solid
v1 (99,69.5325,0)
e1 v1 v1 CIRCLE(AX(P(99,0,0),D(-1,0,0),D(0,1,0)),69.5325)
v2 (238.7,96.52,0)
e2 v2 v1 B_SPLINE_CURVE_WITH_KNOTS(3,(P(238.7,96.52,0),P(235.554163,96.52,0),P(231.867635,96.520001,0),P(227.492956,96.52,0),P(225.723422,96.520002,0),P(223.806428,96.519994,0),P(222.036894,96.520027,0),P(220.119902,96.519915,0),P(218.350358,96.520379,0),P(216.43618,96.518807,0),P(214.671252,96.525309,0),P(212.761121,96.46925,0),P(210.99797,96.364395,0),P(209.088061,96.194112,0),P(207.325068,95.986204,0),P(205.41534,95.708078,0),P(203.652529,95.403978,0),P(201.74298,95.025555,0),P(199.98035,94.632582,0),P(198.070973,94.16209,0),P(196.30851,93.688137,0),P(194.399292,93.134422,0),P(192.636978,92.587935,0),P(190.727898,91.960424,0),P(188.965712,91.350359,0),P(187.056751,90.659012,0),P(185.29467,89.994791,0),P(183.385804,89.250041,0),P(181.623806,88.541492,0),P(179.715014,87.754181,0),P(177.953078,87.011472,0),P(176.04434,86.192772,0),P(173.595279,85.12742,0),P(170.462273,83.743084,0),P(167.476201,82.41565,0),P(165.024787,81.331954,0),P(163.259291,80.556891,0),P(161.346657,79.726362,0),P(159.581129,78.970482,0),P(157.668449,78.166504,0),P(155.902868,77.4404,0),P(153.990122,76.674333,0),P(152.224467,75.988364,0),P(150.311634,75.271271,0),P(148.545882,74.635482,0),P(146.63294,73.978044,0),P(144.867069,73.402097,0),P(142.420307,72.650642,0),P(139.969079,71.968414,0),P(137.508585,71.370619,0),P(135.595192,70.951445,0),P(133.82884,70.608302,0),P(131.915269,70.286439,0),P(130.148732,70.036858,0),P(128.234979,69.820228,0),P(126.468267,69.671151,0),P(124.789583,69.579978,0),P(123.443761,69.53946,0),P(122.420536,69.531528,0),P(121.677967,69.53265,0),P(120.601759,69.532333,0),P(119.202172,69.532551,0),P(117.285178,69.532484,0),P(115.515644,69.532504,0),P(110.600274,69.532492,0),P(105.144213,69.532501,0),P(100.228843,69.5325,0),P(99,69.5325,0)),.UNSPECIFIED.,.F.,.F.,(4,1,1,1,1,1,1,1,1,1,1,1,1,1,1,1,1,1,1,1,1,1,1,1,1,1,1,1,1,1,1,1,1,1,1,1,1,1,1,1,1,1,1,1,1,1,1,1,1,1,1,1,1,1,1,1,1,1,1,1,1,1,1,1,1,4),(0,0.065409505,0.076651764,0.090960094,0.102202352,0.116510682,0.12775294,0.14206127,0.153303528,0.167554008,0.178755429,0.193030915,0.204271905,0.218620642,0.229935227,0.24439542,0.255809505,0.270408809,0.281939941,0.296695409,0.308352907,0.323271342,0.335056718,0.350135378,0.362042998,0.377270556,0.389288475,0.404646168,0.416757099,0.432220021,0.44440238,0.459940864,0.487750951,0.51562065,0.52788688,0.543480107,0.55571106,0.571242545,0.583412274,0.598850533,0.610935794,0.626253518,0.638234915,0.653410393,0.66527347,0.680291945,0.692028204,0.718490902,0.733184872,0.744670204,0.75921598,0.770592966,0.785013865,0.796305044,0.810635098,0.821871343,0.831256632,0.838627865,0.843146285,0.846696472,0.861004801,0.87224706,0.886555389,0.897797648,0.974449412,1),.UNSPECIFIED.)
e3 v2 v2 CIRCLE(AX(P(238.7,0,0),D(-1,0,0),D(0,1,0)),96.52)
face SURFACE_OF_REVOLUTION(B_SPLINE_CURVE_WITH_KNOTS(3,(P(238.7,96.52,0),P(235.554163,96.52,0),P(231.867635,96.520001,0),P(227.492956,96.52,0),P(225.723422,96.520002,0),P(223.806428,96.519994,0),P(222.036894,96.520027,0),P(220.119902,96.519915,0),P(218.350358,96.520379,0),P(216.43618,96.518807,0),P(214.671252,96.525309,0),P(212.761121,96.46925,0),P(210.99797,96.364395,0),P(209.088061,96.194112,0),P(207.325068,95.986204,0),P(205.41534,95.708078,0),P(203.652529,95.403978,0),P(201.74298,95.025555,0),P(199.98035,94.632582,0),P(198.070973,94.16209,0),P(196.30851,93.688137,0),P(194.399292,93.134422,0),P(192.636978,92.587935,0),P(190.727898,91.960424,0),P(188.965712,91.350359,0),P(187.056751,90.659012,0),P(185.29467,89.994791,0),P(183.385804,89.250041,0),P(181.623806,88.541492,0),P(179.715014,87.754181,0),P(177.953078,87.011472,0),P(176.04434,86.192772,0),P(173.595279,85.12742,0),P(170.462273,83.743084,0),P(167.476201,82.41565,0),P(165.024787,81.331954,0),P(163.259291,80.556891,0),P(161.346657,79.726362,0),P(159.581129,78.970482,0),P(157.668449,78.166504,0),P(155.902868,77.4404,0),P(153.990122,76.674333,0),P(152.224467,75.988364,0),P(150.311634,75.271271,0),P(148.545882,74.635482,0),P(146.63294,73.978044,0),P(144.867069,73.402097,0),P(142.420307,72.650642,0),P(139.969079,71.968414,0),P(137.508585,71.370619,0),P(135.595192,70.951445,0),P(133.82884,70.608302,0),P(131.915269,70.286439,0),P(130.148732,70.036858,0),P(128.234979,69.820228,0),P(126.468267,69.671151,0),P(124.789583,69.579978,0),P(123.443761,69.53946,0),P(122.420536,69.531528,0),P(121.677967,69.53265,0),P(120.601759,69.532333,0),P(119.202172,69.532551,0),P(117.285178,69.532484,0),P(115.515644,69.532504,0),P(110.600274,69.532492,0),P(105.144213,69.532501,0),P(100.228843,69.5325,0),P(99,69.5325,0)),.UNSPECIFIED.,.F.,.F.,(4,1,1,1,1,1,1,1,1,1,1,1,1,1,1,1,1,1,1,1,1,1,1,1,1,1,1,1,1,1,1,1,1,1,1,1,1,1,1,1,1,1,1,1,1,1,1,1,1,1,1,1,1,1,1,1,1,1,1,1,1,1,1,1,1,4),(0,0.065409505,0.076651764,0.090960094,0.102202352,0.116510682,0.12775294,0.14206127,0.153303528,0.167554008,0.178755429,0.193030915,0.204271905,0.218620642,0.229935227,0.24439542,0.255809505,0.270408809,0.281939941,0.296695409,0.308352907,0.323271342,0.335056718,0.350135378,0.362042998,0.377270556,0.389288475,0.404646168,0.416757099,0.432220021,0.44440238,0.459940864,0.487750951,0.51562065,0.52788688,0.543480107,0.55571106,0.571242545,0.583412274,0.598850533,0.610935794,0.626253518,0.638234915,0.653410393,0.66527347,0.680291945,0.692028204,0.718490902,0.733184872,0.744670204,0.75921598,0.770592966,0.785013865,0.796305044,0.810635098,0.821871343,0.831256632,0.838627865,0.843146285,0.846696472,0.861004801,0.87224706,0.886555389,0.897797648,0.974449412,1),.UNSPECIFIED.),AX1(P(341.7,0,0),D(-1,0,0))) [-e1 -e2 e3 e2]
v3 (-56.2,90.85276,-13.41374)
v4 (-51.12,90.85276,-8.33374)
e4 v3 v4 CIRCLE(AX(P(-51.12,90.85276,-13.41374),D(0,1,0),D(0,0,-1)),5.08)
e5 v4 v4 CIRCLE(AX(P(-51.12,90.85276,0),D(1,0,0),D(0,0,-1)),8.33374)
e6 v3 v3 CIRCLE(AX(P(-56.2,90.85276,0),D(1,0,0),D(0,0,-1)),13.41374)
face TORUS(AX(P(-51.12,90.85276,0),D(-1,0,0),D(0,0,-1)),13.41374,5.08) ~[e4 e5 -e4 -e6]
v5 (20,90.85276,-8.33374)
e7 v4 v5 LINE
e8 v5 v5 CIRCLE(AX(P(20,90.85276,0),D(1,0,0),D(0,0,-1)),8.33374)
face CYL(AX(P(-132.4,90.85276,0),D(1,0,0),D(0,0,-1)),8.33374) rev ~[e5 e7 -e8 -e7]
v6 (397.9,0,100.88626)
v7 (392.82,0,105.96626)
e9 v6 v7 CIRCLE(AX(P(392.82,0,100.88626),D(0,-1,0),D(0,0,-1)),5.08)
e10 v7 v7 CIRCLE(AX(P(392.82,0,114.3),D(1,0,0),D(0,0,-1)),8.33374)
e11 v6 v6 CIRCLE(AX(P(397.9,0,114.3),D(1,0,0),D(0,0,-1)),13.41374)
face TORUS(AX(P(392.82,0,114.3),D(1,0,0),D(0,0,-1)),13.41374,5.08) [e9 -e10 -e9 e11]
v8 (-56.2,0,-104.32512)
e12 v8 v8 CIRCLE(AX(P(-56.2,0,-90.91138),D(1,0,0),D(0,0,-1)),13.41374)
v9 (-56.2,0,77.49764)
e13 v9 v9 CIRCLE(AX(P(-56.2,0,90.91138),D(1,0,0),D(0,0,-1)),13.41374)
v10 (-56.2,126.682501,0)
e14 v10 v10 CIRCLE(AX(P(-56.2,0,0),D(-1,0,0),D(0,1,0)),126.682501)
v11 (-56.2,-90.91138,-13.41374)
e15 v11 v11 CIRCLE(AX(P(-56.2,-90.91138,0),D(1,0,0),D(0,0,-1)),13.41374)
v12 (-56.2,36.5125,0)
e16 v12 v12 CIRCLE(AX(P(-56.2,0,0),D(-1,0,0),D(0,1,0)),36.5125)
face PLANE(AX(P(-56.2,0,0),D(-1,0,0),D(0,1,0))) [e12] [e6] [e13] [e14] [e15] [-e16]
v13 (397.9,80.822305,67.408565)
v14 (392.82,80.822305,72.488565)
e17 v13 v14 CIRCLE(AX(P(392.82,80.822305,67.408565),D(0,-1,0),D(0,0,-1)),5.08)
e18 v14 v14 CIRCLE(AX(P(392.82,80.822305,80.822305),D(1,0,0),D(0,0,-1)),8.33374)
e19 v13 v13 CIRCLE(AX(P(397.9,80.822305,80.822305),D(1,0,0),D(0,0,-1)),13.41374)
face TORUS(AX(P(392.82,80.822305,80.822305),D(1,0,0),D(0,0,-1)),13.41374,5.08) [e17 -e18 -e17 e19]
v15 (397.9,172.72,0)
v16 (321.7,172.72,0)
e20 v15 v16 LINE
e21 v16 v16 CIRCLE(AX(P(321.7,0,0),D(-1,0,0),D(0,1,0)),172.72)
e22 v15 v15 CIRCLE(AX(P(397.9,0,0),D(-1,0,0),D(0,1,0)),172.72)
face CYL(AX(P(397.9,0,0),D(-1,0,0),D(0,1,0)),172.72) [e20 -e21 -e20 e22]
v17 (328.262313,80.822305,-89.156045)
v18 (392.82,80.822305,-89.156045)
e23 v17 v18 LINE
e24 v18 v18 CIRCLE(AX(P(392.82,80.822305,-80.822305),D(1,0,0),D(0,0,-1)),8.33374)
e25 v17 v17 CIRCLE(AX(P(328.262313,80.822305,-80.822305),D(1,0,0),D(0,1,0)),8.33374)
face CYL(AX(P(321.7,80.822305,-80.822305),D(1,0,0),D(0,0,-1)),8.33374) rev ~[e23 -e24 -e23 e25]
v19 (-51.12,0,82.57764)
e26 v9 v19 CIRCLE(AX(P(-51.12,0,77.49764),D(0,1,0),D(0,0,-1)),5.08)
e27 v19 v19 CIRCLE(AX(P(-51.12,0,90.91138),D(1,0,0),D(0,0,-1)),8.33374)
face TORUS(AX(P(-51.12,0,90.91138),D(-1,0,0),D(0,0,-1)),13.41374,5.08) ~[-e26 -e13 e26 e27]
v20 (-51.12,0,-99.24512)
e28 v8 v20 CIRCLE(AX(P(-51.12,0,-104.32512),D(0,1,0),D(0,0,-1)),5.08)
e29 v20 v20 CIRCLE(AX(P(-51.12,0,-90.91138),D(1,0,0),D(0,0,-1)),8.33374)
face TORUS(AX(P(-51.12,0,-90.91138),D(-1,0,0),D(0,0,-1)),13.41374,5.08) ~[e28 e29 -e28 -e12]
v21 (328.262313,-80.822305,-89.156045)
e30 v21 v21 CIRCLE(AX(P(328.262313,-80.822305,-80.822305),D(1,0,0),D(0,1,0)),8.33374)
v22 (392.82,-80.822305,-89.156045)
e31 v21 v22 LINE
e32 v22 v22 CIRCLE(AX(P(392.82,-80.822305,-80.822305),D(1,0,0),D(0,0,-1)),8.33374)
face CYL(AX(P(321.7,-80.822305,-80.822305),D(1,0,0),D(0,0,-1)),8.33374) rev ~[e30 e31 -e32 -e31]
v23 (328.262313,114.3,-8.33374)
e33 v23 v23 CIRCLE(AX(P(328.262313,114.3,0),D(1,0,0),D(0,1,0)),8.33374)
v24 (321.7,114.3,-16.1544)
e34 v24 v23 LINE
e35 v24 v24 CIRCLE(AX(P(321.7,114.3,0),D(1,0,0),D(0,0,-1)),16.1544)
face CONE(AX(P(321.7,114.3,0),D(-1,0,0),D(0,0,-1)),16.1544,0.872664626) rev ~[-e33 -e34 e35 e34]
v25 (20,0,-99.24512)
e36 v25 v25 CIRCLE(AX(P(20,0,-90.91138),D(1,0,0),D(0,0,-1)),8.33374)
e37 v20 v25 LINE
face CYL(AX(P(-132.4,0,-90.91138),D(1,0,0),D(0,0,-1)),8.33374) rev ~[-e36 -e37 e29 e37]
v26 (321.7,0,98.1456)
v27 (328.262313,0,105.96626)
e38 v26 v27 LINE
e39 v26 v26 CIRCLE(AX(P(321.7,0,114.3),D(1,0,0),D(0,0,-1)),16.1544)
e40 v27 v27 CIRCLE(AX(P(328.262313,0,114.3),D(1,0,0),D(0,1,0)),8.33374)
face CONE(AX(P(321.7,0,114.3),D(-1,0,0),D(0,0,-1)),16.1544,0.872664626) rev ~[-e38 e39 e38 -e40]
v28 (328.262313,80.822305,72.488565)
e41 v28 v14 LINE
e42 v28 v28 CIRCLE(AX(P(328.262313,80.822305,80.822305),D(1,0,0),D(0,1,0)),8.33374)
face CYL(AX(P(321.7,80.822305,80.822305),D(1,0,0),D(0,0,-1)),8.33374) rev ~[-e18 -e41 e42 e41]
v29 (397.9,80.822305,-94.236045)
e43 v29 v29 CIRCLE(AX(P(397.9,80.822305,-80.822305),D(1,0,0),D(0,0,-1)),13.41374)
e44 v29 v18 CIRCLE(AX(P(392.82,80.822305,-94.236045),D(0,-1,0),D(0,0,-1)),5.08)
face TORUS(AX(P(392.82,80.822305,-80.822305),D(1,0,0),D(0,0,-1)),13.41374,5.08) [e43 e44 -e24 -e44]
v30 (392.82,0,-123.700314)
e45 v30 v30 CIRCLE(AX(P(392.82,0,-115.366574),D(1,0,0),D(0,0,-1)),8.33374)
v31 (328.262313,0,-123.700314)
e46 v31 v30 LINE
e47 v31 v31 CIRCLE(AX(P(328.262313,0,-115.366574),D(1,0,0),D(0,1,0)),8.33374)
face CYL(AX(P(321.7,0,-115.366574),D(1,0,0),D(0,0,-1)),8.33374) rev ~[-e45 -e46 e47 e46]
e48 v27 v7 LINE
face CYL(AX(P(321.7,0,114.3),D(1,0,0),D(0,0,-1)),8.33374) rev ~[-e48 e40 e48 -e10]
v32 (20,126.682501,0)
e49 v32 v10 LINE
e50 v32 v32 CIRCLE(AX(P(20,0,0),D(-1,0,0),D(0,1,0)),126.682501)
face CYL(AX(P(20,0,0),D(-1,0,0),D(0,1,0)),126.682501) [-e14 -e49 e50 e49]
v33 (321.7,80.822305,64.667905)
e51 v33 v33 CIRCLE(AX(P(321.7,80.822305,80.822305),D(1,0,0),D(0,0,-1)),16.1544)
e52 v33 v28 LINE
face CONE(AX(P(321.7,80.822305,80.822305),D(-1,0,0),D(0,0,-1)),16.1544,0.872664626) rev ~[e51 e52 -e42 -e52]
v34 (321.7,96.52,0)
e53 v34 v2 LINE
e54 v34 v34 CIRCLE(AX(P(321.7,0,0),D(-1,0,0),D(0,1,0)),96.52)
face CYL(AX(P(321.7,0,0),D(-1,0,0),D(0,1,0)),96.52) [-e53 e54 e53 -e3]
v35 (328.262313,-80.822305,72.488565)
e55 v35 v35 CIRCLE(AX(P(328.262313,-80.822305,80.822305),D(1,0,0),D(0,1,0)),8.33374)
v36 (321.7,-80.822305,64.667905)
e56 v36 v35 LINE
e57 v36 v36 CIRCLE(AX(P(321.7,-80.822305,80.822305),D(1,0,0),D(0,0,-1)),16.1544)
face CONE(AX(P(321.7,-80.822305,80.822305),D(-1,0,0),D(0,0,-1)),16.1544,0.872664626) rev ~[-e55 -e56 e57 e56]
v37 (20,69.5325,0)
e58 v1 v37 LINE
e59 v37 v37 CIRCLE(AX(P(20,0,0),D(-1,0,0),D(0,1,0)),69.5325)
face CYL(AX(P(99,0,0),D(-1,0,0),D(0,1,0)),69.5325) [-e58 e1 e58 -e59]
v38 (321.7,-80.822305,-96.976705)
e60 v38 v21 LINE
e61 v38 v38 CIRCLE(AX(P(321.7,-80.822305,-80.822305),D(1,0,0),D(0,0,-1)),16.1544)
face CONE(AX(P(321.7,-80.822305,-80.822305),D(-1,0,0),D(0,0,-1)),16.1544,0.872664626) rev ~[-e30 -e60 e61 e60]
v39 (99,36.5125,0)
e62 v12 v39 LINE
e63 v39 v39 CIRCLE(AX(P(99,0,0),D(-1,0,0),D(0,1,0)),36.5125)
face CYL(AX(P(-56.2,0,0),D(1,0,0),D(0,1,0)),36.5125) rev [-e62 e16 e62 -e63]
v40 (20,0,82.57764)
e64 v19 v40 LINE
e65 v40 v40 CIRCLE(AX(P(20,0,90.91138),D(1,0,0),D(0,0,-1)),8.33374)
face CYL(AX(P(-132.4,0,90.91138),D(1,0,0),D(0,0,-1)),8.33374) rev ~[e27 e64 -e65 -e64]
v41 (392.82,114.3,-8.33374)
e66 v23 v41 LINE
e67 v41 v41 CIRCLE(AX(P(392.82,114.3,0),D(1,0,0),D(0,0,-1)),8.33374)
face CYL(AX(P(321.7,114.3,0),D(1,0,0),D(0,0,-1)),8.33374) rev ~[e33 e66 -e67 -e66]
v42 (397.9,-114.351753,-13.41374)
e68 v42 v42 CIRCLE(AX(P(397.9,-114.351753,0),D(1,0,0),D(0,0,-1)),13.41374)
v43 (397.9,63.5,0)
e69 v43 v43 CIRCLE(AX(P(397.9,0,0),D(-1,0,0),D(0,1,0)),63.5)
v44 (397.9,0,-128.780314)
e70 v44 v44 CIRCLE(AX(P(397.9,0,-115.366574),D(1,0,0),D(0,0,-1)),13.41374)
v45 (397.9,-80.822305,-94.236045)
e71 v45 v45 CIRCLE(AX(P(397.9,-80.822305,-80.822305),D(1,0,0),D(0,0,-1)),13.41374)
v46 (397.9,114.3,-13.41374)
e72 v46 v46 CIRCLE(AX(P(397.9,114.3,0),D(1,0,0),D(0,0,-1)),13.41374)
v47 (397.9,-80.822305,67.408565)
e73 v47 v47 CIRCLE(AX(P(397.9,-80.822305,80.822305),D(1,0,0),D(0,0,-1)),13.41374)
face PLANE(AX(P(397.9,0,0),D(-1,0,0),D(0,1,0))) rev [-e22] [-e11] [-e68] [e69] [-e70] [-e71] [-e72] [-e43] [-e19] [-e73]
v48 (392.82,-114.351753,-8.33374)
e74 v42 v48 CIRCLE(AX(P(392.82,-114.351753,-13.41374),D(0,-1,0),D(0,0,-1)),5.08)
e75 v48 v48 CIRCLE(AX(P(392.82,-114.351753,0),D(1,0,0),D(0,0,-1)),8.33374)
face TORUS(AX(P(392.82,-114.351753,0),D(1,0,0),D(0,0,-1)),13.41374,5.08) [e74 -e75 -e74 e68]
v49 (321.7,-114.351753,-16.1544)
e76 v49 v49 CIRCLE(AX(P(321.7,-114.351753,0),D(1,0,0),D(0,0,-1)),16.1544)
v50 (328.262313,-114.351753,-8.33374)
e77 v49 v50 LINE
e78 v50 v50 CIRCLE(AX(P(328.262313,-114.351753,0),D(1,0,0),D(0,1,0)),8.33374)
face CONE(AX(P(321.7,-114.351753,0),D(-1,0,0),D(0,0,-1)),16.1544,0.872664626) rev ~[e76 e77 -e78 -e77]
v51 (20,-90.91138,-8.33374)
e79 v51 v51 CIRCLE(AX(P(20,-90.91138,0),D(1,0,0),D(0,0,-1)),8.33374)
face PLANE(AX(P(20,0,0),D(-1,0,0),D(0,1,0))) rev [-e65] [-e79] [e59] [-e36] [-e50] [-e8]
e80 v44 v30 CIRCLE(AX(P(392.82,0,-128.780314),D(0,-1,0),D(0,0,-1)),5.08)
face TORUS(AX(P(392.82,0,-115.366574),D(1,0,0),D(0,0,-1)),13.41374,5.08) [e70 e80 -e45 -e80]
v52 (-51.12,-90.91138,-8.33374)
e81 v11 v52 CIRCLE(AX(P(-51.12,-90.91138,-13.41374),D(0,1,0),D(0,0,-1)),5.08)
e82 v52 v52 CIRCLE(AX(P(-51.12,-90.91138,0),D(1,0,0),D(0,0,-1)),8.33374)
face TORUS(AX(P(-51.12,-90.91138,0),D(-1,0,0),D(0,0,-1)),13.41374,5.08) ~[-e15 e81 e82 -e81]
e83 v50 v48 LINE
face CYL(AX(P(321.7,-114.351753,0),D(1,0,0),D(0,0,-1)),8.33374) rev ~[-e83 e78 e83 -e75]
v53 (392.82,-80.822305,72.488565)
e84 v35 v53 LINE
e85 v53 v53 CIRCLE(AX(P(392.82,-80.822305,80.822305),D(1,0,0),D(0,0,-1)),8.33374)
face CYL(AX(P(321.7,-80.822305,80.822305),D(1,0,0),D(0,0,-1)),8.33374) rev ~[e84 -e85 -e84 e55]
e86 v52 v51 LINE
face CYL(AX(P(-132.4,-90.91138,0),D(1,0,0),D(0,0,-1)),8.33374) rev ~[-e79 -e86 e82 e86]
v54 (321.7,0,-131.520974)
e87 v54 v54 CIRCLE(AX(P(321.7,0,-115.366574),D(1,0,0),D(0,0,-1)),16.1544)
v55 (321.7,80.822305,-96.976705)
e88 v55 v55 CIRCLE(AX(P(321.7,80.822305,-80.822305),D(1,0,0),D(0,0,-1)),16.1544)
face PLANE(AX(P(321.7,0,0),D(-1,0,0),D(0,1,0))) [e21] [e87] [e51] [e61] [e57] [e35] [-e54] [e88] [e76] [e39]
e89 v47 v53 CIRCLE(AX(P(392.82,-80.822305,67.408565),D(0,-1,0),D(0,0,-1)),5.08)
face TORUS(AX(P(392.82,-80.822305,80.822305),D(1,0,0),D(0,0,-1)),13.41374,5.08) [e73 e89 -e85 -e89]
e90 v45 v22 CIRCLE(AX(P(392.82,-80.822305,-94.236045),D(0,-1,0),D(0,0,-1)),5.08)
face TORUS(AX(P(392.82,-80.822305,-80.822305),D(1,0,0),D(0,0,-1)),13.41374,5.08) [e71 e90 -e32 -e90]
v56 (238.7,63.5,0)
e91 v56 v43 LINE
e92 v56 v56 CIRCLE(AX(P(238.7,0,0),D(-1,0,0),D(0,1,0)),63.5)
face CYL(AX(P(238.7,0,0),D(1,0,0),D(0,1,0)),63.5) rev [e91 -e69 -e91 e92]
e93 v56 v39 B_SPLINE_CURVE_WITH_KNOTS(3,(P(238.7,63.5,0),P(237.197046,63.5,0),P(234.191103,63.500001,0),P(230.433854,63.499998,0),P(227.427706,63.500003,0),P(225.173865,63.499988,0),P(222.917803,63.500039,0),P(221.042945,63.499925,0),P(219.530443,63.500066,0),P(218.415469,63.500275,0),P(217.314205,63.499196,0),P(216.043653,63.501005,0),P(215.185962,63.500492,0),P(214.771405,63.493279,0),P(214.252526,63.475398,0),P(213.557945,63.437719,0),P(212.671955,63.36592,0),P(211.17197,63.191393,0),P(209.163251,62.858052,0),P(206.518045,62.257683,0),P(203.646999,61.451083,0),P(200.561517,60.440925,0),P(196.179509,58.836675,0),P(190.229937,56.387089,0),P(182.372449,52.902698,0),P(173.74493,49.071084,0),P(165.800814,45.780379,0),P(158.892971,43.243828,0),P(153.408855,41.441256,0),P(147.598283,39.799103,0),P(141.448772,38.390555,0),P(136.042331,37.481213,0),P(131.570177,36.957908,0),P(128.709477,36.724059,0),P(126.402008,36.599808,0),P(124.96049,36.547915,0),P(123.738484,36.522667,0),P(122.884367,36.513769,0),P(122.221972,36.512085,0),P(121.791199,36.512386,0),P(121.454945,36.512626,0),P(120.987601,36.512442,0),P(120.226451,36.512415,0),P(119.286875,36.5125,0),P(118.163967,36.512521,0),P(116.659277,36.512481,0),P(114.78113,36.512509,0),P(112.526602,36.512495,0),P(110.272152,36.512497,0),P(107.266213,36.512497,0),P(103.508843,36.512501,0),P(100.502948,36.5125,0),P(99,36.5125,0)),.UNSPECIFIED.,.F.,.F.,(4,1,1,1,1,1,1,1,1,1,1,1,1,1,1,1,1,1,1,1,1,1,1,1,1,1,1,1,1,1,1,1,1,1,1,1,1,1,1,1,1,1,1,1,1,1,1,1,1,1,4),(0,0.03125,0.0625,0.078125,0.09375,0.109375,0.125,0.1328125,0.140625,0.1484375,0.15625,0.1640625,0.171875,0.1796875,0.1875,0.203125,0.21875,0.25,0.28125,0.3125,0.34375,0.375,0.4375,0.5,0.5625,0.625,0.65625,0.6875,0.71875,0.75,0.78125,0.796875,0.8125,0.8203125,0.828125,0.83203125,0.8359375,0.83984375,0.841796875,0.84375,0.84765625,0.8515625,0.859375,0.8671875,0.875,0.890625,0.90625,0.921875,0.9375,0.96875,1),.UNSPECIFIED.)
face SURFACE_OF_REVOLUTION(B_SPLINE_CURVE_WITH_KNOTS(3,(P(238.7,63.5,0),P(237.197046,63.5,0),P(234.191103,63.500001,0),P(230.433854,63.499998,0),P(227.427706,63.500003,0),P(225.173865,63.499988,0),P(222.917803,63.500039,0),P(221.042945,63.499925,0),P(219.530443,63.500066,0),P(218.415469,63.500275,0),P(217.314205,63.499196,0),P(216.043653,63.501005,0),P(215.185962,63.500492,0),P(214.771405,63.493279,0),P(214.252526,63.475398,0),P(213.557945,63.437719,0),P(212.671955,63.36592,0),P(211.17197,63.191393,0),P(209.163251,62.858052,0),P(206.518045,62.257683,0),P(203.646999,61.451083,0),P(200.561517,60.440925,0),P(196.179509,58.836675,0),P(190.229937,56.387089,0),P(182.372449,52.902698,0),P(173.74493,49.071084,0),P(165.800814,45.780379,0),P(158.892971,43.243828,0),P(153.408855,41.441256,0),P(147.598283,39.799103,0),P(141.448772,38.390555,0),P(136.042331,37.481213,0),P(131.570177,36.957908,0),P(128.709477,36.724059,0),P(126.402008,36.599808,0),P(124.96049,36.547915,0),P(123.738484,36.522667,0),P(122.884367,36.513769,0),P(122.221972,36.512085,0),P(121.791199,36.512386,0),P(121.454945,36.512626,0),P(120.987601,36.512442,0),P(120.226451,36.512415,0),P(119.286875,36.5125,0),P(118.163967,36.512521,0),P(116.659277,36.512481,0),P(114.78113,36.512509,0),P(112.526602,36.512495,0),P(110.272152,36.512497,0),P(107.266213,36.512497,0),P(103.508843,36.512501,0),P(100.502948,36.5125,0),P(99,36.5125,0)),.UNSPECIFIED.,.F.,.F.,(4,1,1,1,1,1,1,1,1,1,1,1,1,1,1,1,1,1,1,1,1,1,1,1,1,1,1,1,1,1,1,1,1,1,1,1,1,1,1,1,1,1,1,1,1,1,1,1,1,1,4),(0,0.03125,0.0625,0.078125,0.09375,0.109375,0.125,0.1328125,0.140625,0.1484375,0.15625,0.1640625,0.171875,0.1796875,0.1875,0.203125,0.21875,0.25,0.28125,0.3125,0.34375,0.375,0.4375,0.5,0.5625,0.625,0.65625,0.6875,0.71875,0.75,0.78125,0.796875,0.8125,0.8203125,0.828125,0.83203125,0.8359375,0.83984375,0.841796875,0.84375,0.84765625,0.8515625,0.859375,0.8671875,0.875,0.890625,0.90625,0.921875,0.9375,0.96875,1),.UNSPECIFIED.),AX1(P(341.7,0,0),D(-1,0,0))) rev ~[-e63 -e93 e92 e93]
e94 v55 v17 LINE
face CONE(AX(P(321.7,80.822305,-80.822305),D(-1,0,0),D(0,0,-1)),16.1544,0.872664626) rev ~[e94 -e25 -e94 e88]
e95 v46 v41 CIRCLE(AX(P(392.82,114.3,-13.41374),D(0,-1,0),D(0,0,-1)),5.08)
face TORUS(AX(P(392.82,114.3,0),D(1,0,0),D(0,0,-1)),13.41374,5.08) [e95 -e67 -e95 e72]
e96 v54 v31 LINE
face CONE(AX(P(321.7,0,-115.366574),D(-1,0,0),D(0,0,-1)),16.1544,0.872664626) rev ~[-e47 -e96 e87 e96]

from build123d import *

# Parameters (mm, degrees)
F_5_8_CLEARANCE_HOLE1_D                             = 16.66748
F_5_8_CLEARANCE_HOLE1_DEPTH                         = 76.2
CSK_FOR_5_8_FLAT_HEAD_MACHINE_SCREW_100_D           = 16.66748
CSK_FOR_5_8_FLAT_HEAD_MACHINE_SCREW_100_DEPTH       = 76.2
CSK_FOR_5_8_FLAT_HEAD_MACHINE_SCREW_100_CSINK_D     = 32.3088
CSK_FOR_5_8_FLAT_HEAD_MACHINE_SCREW_100_CSINK_ANGLE = 100
FILLET1_R                                           = 5.08
FILLET2_R                                           = 5.08


with BuildPart() as part:
    # Sketch2 → Revolve1 (revolve)
    with BuildSketch(Plane.XY):
        with BuildLine():
            Line((397.9, 63.5), (397.9, 172.72))
            Line((397.9, 172.72), (321.7, 172.72))
            Line((321.7, 172.72), (321.7, 96.52))
            Line((321.7, 96.52), (238.7, 96.52))
            add(Edge.make_bspline(
                [(238.7, 96.52), (235.554162963, 96.52), (231.867635167, 96.520000854), (227.492955565, 96.519999574), (225.723422181, 96.520001904), (223.806427909, 96.519993991), (222.03689386, 96.520026856), (220.119901847, 96.519915241), (218.350358415, 96.520378787), (216.436180482, 96.518806814), (214.671251811, 96.525309284), (212.761120781, 96.469250093), (210.997970421, 96.364395267), (209.088061418, 96.194111756), (207.325068085, 95.986203736), (205.415339805, 95.708078479), (203.652528826, 95.403977645), (201.742980231, 95.02555544), (199.980349522, 94.632582243), (198.070973132, 94.162089846), (196.308510241, 93.688137455), (194.399291637, 93.134422106), (192.636978054, 92.587935066), (190.727898375, 91.960424077), (188.965712472, 91.350359442), (187.056750607, 90.659012211), (185.294669761, 89.994791139), (183.385803915, 89.250041466), (181.623805854, 88.541491878), (179.715014471, 87.754180902), (177.95307795, 87.011471767), (176.044340155, 86.192772243), (173.595279183, 85.127420353), (170.462272843, 83.743083739), (167.476201028, 82.415649714), (165.024786727, 81.331954435), (163.259291454, 80.556891201), (161.346657228, 79.726362453), (159.58112861, 78.970482115), (157.668449277, 78.166503816), (155.902867536, 77.440400295), (153.990122343, 76.674333295), (152.22446654, 75.988364429), (150.311633974, 75.27127071), (148.545882008, 74.635481527), (146.632940071, 73.97804432), (144.867069113, 73.402097288), (142.420307435, 72.650641631), (139.969078636, 71.968414381), (137.508584813, 71.37061928), (135.595192141, 70.951445026), (133.828840435, 70.608301664), (131.915268777, 70.28643942), (130.148732425, 70.036858101), (128.234978669, 69.820228423), (126.468267149, 69.671150711), (124.789582716, 69.579978245), (123.443760708, 69.539459525), (122.420535806, 69.531528206), (121.677966993, 69.532649541), (120.601758891, 69.532332583), (119.202172332, 69.532550669), (117.285177742, 69.532484277), (115.515644452, 69.532503827), (110.600274055, 69.532491757), (105.144212964, 69.532501185), (100.228842592, 69.532500252), (98.999999999, 69.532500252)],
                knots=[0, 0, 0, 0, 0.065409505, 0.076651764, 0.090960094, 0.102202352, 0.116510682, 0.12775294, 0.14206127, 0.153303528, 0.167554008, 0.178755429, 0.193030915, 0.204271905, 0.218620642, 0.229935227, 0.24439542, 0.255809505, 0.270408809, 0.281939941, 0.296695409, 0.308352907, 0.323271342, 0.335056718, 0.350135378, 0.362042998, 0.377270556, 0.389288475, 0.404646168, 0.416757099, 0.432220021, 0.44440238, 0.459940864, 0.487750951, 0.51562065, 0.52788688, 0.543480107, 0.55571106, 0.571242545, 0.583412274, 0.598850533, 0.610935794, 0.626253518, 0.638234915, 0.653410393, 0.66527347, 0.680291945, 0.692028204, 0.718490902, 0.733184872, 0.744670204, 0.75921598, 0.770592966, 0.785013865, 0.796305044, 0.810635098, 0.821871343, 0.831256632, 0.838627865, 0.843146285, 0.846696472, 0.861004801, 0.87224706, 0.886555389, 0.897797648, 0.974449412, 1, 1, 1, 1], degree=3, weights=[0.576132148, 0.576132148, 0.576132148, 0.576132148, 0.576132148, 0.576132148, 0.576132148, 0.576132148, 0.576132148, 0.576132148, 0.576132148, 0.576132148, 0.576132148, 0.576132148, 0.576132148, 0.576132148, 0.576132148, 0.576132148, 0.576132148, 0.576132148, 0.576132148, 0.576132148, 0.576132148, 0.576132148, 0.576132148, 0.576132148, 0.576132148, 0.576132148, 0.576132148, 0.576132148, 0.576132148, 0.576132148, 0.576132148, 0.576132148, 0.576132148, 0.576132148, 0.576132148, 0.576132148, 0.576132148, 0.576132148, 0.576132148, 0.576132148, 0.576132148, 0.576132148, 0.576132148, 0.576132148, 0.576132148, 0.576132148, 0.576132148, 0.576132148, 0.576132148, 0.576132148, 0.576132148, 0.576132148, 0.576132148, 0.576132148, 0.576132148, 0.576132148, 0.576132148, 0.576132148, 0.576132148, 0.576132148, 0.576132148, 0.576132148, 0.576132148, 0.576132148, 0.576132148, 0.576132148]))
            Line((98.999999999, 69.532500252), (20, 69.532500252))
            Line((20, 69.532500252), (20, 126.682500788))
            Line((20, 126.682500788), (-56.2, 126.682500788))
            Line((-56.2, 126.682500788), (-56.2, 36.512500252))
            Line((-56.2, 36.512500252), (98.999999999, 36.512500252))
            add(Edge.make_bspline(
                [(238.700000003, 63.5), (237.197046347, 63.5), (234.191102817, 63.500001102), (230.433854496, 63.4999983), (227.427706296, 63.500003237), (225.173865058, 63.499988149), (222.917803457, 63.50003916), (221.042945443, 63.499925019), (219.530442863, 63.500065616), (218.415469051, 63.500274875), (217.314204647, 63.499196223), (216.043652917, 63.501004921), (215.185961816, 63.500492351), (214.771405113, 63.493279052), (214.252526353, 63.475397551), (213.557944606, 63.437719421), (212.671955105, 63.365919575), (211.171969603, 63.191393403), (209.16325102, 62.85805214), (206.51804476, 62.257683474), (203.646999002, 61.45108291), (200.561516635, 60.440925391), (196.179509039, 58.836675172), (190.229936587, 56.387089311), (182.372449203, 52.902698484), (173.744930391, 49.071084114), (165.800813574, 45.78037874), (158.892971077, 43.243828352), (153.408855442, 41.441256442), (147.598282729, 39.799102649), (141.448772399, 38.390555181), (136.042331475, 37.481212687), (131.570176876, 36.957907859), (128.709477108, 36.724058743), (126.402007952, 36.59980834), (124.96048965, 36.547914527), (123.738484125, 36.522666819), (122.884366988, 36.513769348), (122.221972387, 36.512085435), (121.791199415, 36.512386125), (121.454945133, 36.512626057), (120.987601277, 36.512442102), (120.226451203, 36.512415242), (119.286874933, 36.512499795), (118.163967218, 36.512520791), (116.659276737, 36.512481233), (114.781129764, 36.512509034), (112.526602378, 36.512495404), (110.272151814, 36.512496718), (107.266212904, 36.512496724), (103.508842845, 36.512500733), (100.502947689, 36.512500252), (98.999999999, 36.512500252)],
                knots=[0, 0, 0, 0, 0.03125, 0.0625, 0.078125, 0.09375, 0.109375, 0.125, 0.1328125, 0.140625, 0.1484375, 0.15625, 0.1640625, 0.171875, 0.1796875, 0.1875, 0.203125, 0.21875, 0.25, 0.28125, 0.3125, 0.34375, 0.375, 0.4375, 0.5, 0.5625, 0.625, 0.65625, 0.6875, 0.71875, 0.75, 0.78125, 0.796875, 0.8125, 0.8203125, 0.828125, 0.83203125, 0.8359375, 0.83984375, 0.841796875, 0.84375, 0.84765625, 0.8515625, 0.859375, 0.8671875, 0.875, 0.890625, 0.90625, 0.921875, 0.9375, 0.96875, 1, 1, 1, 1], degree=3))
            Line((238.700000003, 63.5), (397.9, 63.5))
        make_face()
    revolve(axis=Axis((341.7, 0, 0), (-1, 0, 0)))

    # 5/8 Clearance Hole1
    with Locations(Plane(origin=(-56.2, -86.94526051, 61.229912904), x_dir=(0, 0, 1), z_dir=(-1, 0, 0))):
        with Locations((-61.229912904, 177.798020209), (29.681467244, 86.94526051), (-61.229912904, -3.966119638), (-152.141293051, 86.94526051)):
            Hole(F_5_8_CLEARANCE_HOLE1_D / 2, depth=F_5_8_CLEARANCE_HOLE1_DEPTH)

    # CSK for 5_8 Flat Head Machine Screw _100
    with Locations(Plane(origin=(321.7, -86.94526051, 61.229912904), x_dir=(0, 0, 1), z_dir=(-1, 0, 0))):
        with Locations((-61.229912904, 201.24526051), (-176.596487394, 86.94526051), (-142.052217993, 167.767565599), (19.592392186, 167.767565599), (53.070087096, 86.94526051), (19.592392186, 6.12295542), (-61.229912904, -27.406492985), (-142.052217993, 6.12295542)):
            CounterSinkHole(CSK_FOR_5_8_FLAT_HEAD_MACHINE_SCREW_100_D / 2, CSK_FOR_5_8_FLAT_HEAD_MACHINE_SCREW_100_CSINK_D / 2, depth=CSK_FOR_5_8_FLAT_HEAD_MACHINE_SCREW_100_DEPTH, counter_sink_angle=CSK_FOR_5_8_FLAT_HEAD_MACHINE_SCREW_100_CSINK_ANGLE)

    # Fillet1
    fillet1_edges = [part.edges().sort_by_distance(p)[0] for p in [
        (397.9, 114.3, 8.33374),
        (397.9, -80.82230509, -72.488565089),
        (397.9, -114.351753495, 8.33374),
        (397.9, -80.82230509, 89.15604509),
        (397.9, 0, 122.63374),
        (397.9, 80.822305089, 89.15604509),
        (397.9, 80.822305089, -72.488565089),
        (397.9, 0, -107.03283449),
    ]]
    fillet(fillet1_edges, radius=FILLET1_R)

    # Fillet2
    fillet2_edges = [part.edges().sort_by_distance(p)[0] for p in [
        (-56.2, 0, -82.577640147),
        (-56.2, -90.911380148, 8.33374),
        (-56.2, 0, 99.245120148),
        (-56.2, 90.852759699, 8.33374),
    ]]
    fillet(fillet2_edges, radius=FILLET2_R)


solid = part.part
